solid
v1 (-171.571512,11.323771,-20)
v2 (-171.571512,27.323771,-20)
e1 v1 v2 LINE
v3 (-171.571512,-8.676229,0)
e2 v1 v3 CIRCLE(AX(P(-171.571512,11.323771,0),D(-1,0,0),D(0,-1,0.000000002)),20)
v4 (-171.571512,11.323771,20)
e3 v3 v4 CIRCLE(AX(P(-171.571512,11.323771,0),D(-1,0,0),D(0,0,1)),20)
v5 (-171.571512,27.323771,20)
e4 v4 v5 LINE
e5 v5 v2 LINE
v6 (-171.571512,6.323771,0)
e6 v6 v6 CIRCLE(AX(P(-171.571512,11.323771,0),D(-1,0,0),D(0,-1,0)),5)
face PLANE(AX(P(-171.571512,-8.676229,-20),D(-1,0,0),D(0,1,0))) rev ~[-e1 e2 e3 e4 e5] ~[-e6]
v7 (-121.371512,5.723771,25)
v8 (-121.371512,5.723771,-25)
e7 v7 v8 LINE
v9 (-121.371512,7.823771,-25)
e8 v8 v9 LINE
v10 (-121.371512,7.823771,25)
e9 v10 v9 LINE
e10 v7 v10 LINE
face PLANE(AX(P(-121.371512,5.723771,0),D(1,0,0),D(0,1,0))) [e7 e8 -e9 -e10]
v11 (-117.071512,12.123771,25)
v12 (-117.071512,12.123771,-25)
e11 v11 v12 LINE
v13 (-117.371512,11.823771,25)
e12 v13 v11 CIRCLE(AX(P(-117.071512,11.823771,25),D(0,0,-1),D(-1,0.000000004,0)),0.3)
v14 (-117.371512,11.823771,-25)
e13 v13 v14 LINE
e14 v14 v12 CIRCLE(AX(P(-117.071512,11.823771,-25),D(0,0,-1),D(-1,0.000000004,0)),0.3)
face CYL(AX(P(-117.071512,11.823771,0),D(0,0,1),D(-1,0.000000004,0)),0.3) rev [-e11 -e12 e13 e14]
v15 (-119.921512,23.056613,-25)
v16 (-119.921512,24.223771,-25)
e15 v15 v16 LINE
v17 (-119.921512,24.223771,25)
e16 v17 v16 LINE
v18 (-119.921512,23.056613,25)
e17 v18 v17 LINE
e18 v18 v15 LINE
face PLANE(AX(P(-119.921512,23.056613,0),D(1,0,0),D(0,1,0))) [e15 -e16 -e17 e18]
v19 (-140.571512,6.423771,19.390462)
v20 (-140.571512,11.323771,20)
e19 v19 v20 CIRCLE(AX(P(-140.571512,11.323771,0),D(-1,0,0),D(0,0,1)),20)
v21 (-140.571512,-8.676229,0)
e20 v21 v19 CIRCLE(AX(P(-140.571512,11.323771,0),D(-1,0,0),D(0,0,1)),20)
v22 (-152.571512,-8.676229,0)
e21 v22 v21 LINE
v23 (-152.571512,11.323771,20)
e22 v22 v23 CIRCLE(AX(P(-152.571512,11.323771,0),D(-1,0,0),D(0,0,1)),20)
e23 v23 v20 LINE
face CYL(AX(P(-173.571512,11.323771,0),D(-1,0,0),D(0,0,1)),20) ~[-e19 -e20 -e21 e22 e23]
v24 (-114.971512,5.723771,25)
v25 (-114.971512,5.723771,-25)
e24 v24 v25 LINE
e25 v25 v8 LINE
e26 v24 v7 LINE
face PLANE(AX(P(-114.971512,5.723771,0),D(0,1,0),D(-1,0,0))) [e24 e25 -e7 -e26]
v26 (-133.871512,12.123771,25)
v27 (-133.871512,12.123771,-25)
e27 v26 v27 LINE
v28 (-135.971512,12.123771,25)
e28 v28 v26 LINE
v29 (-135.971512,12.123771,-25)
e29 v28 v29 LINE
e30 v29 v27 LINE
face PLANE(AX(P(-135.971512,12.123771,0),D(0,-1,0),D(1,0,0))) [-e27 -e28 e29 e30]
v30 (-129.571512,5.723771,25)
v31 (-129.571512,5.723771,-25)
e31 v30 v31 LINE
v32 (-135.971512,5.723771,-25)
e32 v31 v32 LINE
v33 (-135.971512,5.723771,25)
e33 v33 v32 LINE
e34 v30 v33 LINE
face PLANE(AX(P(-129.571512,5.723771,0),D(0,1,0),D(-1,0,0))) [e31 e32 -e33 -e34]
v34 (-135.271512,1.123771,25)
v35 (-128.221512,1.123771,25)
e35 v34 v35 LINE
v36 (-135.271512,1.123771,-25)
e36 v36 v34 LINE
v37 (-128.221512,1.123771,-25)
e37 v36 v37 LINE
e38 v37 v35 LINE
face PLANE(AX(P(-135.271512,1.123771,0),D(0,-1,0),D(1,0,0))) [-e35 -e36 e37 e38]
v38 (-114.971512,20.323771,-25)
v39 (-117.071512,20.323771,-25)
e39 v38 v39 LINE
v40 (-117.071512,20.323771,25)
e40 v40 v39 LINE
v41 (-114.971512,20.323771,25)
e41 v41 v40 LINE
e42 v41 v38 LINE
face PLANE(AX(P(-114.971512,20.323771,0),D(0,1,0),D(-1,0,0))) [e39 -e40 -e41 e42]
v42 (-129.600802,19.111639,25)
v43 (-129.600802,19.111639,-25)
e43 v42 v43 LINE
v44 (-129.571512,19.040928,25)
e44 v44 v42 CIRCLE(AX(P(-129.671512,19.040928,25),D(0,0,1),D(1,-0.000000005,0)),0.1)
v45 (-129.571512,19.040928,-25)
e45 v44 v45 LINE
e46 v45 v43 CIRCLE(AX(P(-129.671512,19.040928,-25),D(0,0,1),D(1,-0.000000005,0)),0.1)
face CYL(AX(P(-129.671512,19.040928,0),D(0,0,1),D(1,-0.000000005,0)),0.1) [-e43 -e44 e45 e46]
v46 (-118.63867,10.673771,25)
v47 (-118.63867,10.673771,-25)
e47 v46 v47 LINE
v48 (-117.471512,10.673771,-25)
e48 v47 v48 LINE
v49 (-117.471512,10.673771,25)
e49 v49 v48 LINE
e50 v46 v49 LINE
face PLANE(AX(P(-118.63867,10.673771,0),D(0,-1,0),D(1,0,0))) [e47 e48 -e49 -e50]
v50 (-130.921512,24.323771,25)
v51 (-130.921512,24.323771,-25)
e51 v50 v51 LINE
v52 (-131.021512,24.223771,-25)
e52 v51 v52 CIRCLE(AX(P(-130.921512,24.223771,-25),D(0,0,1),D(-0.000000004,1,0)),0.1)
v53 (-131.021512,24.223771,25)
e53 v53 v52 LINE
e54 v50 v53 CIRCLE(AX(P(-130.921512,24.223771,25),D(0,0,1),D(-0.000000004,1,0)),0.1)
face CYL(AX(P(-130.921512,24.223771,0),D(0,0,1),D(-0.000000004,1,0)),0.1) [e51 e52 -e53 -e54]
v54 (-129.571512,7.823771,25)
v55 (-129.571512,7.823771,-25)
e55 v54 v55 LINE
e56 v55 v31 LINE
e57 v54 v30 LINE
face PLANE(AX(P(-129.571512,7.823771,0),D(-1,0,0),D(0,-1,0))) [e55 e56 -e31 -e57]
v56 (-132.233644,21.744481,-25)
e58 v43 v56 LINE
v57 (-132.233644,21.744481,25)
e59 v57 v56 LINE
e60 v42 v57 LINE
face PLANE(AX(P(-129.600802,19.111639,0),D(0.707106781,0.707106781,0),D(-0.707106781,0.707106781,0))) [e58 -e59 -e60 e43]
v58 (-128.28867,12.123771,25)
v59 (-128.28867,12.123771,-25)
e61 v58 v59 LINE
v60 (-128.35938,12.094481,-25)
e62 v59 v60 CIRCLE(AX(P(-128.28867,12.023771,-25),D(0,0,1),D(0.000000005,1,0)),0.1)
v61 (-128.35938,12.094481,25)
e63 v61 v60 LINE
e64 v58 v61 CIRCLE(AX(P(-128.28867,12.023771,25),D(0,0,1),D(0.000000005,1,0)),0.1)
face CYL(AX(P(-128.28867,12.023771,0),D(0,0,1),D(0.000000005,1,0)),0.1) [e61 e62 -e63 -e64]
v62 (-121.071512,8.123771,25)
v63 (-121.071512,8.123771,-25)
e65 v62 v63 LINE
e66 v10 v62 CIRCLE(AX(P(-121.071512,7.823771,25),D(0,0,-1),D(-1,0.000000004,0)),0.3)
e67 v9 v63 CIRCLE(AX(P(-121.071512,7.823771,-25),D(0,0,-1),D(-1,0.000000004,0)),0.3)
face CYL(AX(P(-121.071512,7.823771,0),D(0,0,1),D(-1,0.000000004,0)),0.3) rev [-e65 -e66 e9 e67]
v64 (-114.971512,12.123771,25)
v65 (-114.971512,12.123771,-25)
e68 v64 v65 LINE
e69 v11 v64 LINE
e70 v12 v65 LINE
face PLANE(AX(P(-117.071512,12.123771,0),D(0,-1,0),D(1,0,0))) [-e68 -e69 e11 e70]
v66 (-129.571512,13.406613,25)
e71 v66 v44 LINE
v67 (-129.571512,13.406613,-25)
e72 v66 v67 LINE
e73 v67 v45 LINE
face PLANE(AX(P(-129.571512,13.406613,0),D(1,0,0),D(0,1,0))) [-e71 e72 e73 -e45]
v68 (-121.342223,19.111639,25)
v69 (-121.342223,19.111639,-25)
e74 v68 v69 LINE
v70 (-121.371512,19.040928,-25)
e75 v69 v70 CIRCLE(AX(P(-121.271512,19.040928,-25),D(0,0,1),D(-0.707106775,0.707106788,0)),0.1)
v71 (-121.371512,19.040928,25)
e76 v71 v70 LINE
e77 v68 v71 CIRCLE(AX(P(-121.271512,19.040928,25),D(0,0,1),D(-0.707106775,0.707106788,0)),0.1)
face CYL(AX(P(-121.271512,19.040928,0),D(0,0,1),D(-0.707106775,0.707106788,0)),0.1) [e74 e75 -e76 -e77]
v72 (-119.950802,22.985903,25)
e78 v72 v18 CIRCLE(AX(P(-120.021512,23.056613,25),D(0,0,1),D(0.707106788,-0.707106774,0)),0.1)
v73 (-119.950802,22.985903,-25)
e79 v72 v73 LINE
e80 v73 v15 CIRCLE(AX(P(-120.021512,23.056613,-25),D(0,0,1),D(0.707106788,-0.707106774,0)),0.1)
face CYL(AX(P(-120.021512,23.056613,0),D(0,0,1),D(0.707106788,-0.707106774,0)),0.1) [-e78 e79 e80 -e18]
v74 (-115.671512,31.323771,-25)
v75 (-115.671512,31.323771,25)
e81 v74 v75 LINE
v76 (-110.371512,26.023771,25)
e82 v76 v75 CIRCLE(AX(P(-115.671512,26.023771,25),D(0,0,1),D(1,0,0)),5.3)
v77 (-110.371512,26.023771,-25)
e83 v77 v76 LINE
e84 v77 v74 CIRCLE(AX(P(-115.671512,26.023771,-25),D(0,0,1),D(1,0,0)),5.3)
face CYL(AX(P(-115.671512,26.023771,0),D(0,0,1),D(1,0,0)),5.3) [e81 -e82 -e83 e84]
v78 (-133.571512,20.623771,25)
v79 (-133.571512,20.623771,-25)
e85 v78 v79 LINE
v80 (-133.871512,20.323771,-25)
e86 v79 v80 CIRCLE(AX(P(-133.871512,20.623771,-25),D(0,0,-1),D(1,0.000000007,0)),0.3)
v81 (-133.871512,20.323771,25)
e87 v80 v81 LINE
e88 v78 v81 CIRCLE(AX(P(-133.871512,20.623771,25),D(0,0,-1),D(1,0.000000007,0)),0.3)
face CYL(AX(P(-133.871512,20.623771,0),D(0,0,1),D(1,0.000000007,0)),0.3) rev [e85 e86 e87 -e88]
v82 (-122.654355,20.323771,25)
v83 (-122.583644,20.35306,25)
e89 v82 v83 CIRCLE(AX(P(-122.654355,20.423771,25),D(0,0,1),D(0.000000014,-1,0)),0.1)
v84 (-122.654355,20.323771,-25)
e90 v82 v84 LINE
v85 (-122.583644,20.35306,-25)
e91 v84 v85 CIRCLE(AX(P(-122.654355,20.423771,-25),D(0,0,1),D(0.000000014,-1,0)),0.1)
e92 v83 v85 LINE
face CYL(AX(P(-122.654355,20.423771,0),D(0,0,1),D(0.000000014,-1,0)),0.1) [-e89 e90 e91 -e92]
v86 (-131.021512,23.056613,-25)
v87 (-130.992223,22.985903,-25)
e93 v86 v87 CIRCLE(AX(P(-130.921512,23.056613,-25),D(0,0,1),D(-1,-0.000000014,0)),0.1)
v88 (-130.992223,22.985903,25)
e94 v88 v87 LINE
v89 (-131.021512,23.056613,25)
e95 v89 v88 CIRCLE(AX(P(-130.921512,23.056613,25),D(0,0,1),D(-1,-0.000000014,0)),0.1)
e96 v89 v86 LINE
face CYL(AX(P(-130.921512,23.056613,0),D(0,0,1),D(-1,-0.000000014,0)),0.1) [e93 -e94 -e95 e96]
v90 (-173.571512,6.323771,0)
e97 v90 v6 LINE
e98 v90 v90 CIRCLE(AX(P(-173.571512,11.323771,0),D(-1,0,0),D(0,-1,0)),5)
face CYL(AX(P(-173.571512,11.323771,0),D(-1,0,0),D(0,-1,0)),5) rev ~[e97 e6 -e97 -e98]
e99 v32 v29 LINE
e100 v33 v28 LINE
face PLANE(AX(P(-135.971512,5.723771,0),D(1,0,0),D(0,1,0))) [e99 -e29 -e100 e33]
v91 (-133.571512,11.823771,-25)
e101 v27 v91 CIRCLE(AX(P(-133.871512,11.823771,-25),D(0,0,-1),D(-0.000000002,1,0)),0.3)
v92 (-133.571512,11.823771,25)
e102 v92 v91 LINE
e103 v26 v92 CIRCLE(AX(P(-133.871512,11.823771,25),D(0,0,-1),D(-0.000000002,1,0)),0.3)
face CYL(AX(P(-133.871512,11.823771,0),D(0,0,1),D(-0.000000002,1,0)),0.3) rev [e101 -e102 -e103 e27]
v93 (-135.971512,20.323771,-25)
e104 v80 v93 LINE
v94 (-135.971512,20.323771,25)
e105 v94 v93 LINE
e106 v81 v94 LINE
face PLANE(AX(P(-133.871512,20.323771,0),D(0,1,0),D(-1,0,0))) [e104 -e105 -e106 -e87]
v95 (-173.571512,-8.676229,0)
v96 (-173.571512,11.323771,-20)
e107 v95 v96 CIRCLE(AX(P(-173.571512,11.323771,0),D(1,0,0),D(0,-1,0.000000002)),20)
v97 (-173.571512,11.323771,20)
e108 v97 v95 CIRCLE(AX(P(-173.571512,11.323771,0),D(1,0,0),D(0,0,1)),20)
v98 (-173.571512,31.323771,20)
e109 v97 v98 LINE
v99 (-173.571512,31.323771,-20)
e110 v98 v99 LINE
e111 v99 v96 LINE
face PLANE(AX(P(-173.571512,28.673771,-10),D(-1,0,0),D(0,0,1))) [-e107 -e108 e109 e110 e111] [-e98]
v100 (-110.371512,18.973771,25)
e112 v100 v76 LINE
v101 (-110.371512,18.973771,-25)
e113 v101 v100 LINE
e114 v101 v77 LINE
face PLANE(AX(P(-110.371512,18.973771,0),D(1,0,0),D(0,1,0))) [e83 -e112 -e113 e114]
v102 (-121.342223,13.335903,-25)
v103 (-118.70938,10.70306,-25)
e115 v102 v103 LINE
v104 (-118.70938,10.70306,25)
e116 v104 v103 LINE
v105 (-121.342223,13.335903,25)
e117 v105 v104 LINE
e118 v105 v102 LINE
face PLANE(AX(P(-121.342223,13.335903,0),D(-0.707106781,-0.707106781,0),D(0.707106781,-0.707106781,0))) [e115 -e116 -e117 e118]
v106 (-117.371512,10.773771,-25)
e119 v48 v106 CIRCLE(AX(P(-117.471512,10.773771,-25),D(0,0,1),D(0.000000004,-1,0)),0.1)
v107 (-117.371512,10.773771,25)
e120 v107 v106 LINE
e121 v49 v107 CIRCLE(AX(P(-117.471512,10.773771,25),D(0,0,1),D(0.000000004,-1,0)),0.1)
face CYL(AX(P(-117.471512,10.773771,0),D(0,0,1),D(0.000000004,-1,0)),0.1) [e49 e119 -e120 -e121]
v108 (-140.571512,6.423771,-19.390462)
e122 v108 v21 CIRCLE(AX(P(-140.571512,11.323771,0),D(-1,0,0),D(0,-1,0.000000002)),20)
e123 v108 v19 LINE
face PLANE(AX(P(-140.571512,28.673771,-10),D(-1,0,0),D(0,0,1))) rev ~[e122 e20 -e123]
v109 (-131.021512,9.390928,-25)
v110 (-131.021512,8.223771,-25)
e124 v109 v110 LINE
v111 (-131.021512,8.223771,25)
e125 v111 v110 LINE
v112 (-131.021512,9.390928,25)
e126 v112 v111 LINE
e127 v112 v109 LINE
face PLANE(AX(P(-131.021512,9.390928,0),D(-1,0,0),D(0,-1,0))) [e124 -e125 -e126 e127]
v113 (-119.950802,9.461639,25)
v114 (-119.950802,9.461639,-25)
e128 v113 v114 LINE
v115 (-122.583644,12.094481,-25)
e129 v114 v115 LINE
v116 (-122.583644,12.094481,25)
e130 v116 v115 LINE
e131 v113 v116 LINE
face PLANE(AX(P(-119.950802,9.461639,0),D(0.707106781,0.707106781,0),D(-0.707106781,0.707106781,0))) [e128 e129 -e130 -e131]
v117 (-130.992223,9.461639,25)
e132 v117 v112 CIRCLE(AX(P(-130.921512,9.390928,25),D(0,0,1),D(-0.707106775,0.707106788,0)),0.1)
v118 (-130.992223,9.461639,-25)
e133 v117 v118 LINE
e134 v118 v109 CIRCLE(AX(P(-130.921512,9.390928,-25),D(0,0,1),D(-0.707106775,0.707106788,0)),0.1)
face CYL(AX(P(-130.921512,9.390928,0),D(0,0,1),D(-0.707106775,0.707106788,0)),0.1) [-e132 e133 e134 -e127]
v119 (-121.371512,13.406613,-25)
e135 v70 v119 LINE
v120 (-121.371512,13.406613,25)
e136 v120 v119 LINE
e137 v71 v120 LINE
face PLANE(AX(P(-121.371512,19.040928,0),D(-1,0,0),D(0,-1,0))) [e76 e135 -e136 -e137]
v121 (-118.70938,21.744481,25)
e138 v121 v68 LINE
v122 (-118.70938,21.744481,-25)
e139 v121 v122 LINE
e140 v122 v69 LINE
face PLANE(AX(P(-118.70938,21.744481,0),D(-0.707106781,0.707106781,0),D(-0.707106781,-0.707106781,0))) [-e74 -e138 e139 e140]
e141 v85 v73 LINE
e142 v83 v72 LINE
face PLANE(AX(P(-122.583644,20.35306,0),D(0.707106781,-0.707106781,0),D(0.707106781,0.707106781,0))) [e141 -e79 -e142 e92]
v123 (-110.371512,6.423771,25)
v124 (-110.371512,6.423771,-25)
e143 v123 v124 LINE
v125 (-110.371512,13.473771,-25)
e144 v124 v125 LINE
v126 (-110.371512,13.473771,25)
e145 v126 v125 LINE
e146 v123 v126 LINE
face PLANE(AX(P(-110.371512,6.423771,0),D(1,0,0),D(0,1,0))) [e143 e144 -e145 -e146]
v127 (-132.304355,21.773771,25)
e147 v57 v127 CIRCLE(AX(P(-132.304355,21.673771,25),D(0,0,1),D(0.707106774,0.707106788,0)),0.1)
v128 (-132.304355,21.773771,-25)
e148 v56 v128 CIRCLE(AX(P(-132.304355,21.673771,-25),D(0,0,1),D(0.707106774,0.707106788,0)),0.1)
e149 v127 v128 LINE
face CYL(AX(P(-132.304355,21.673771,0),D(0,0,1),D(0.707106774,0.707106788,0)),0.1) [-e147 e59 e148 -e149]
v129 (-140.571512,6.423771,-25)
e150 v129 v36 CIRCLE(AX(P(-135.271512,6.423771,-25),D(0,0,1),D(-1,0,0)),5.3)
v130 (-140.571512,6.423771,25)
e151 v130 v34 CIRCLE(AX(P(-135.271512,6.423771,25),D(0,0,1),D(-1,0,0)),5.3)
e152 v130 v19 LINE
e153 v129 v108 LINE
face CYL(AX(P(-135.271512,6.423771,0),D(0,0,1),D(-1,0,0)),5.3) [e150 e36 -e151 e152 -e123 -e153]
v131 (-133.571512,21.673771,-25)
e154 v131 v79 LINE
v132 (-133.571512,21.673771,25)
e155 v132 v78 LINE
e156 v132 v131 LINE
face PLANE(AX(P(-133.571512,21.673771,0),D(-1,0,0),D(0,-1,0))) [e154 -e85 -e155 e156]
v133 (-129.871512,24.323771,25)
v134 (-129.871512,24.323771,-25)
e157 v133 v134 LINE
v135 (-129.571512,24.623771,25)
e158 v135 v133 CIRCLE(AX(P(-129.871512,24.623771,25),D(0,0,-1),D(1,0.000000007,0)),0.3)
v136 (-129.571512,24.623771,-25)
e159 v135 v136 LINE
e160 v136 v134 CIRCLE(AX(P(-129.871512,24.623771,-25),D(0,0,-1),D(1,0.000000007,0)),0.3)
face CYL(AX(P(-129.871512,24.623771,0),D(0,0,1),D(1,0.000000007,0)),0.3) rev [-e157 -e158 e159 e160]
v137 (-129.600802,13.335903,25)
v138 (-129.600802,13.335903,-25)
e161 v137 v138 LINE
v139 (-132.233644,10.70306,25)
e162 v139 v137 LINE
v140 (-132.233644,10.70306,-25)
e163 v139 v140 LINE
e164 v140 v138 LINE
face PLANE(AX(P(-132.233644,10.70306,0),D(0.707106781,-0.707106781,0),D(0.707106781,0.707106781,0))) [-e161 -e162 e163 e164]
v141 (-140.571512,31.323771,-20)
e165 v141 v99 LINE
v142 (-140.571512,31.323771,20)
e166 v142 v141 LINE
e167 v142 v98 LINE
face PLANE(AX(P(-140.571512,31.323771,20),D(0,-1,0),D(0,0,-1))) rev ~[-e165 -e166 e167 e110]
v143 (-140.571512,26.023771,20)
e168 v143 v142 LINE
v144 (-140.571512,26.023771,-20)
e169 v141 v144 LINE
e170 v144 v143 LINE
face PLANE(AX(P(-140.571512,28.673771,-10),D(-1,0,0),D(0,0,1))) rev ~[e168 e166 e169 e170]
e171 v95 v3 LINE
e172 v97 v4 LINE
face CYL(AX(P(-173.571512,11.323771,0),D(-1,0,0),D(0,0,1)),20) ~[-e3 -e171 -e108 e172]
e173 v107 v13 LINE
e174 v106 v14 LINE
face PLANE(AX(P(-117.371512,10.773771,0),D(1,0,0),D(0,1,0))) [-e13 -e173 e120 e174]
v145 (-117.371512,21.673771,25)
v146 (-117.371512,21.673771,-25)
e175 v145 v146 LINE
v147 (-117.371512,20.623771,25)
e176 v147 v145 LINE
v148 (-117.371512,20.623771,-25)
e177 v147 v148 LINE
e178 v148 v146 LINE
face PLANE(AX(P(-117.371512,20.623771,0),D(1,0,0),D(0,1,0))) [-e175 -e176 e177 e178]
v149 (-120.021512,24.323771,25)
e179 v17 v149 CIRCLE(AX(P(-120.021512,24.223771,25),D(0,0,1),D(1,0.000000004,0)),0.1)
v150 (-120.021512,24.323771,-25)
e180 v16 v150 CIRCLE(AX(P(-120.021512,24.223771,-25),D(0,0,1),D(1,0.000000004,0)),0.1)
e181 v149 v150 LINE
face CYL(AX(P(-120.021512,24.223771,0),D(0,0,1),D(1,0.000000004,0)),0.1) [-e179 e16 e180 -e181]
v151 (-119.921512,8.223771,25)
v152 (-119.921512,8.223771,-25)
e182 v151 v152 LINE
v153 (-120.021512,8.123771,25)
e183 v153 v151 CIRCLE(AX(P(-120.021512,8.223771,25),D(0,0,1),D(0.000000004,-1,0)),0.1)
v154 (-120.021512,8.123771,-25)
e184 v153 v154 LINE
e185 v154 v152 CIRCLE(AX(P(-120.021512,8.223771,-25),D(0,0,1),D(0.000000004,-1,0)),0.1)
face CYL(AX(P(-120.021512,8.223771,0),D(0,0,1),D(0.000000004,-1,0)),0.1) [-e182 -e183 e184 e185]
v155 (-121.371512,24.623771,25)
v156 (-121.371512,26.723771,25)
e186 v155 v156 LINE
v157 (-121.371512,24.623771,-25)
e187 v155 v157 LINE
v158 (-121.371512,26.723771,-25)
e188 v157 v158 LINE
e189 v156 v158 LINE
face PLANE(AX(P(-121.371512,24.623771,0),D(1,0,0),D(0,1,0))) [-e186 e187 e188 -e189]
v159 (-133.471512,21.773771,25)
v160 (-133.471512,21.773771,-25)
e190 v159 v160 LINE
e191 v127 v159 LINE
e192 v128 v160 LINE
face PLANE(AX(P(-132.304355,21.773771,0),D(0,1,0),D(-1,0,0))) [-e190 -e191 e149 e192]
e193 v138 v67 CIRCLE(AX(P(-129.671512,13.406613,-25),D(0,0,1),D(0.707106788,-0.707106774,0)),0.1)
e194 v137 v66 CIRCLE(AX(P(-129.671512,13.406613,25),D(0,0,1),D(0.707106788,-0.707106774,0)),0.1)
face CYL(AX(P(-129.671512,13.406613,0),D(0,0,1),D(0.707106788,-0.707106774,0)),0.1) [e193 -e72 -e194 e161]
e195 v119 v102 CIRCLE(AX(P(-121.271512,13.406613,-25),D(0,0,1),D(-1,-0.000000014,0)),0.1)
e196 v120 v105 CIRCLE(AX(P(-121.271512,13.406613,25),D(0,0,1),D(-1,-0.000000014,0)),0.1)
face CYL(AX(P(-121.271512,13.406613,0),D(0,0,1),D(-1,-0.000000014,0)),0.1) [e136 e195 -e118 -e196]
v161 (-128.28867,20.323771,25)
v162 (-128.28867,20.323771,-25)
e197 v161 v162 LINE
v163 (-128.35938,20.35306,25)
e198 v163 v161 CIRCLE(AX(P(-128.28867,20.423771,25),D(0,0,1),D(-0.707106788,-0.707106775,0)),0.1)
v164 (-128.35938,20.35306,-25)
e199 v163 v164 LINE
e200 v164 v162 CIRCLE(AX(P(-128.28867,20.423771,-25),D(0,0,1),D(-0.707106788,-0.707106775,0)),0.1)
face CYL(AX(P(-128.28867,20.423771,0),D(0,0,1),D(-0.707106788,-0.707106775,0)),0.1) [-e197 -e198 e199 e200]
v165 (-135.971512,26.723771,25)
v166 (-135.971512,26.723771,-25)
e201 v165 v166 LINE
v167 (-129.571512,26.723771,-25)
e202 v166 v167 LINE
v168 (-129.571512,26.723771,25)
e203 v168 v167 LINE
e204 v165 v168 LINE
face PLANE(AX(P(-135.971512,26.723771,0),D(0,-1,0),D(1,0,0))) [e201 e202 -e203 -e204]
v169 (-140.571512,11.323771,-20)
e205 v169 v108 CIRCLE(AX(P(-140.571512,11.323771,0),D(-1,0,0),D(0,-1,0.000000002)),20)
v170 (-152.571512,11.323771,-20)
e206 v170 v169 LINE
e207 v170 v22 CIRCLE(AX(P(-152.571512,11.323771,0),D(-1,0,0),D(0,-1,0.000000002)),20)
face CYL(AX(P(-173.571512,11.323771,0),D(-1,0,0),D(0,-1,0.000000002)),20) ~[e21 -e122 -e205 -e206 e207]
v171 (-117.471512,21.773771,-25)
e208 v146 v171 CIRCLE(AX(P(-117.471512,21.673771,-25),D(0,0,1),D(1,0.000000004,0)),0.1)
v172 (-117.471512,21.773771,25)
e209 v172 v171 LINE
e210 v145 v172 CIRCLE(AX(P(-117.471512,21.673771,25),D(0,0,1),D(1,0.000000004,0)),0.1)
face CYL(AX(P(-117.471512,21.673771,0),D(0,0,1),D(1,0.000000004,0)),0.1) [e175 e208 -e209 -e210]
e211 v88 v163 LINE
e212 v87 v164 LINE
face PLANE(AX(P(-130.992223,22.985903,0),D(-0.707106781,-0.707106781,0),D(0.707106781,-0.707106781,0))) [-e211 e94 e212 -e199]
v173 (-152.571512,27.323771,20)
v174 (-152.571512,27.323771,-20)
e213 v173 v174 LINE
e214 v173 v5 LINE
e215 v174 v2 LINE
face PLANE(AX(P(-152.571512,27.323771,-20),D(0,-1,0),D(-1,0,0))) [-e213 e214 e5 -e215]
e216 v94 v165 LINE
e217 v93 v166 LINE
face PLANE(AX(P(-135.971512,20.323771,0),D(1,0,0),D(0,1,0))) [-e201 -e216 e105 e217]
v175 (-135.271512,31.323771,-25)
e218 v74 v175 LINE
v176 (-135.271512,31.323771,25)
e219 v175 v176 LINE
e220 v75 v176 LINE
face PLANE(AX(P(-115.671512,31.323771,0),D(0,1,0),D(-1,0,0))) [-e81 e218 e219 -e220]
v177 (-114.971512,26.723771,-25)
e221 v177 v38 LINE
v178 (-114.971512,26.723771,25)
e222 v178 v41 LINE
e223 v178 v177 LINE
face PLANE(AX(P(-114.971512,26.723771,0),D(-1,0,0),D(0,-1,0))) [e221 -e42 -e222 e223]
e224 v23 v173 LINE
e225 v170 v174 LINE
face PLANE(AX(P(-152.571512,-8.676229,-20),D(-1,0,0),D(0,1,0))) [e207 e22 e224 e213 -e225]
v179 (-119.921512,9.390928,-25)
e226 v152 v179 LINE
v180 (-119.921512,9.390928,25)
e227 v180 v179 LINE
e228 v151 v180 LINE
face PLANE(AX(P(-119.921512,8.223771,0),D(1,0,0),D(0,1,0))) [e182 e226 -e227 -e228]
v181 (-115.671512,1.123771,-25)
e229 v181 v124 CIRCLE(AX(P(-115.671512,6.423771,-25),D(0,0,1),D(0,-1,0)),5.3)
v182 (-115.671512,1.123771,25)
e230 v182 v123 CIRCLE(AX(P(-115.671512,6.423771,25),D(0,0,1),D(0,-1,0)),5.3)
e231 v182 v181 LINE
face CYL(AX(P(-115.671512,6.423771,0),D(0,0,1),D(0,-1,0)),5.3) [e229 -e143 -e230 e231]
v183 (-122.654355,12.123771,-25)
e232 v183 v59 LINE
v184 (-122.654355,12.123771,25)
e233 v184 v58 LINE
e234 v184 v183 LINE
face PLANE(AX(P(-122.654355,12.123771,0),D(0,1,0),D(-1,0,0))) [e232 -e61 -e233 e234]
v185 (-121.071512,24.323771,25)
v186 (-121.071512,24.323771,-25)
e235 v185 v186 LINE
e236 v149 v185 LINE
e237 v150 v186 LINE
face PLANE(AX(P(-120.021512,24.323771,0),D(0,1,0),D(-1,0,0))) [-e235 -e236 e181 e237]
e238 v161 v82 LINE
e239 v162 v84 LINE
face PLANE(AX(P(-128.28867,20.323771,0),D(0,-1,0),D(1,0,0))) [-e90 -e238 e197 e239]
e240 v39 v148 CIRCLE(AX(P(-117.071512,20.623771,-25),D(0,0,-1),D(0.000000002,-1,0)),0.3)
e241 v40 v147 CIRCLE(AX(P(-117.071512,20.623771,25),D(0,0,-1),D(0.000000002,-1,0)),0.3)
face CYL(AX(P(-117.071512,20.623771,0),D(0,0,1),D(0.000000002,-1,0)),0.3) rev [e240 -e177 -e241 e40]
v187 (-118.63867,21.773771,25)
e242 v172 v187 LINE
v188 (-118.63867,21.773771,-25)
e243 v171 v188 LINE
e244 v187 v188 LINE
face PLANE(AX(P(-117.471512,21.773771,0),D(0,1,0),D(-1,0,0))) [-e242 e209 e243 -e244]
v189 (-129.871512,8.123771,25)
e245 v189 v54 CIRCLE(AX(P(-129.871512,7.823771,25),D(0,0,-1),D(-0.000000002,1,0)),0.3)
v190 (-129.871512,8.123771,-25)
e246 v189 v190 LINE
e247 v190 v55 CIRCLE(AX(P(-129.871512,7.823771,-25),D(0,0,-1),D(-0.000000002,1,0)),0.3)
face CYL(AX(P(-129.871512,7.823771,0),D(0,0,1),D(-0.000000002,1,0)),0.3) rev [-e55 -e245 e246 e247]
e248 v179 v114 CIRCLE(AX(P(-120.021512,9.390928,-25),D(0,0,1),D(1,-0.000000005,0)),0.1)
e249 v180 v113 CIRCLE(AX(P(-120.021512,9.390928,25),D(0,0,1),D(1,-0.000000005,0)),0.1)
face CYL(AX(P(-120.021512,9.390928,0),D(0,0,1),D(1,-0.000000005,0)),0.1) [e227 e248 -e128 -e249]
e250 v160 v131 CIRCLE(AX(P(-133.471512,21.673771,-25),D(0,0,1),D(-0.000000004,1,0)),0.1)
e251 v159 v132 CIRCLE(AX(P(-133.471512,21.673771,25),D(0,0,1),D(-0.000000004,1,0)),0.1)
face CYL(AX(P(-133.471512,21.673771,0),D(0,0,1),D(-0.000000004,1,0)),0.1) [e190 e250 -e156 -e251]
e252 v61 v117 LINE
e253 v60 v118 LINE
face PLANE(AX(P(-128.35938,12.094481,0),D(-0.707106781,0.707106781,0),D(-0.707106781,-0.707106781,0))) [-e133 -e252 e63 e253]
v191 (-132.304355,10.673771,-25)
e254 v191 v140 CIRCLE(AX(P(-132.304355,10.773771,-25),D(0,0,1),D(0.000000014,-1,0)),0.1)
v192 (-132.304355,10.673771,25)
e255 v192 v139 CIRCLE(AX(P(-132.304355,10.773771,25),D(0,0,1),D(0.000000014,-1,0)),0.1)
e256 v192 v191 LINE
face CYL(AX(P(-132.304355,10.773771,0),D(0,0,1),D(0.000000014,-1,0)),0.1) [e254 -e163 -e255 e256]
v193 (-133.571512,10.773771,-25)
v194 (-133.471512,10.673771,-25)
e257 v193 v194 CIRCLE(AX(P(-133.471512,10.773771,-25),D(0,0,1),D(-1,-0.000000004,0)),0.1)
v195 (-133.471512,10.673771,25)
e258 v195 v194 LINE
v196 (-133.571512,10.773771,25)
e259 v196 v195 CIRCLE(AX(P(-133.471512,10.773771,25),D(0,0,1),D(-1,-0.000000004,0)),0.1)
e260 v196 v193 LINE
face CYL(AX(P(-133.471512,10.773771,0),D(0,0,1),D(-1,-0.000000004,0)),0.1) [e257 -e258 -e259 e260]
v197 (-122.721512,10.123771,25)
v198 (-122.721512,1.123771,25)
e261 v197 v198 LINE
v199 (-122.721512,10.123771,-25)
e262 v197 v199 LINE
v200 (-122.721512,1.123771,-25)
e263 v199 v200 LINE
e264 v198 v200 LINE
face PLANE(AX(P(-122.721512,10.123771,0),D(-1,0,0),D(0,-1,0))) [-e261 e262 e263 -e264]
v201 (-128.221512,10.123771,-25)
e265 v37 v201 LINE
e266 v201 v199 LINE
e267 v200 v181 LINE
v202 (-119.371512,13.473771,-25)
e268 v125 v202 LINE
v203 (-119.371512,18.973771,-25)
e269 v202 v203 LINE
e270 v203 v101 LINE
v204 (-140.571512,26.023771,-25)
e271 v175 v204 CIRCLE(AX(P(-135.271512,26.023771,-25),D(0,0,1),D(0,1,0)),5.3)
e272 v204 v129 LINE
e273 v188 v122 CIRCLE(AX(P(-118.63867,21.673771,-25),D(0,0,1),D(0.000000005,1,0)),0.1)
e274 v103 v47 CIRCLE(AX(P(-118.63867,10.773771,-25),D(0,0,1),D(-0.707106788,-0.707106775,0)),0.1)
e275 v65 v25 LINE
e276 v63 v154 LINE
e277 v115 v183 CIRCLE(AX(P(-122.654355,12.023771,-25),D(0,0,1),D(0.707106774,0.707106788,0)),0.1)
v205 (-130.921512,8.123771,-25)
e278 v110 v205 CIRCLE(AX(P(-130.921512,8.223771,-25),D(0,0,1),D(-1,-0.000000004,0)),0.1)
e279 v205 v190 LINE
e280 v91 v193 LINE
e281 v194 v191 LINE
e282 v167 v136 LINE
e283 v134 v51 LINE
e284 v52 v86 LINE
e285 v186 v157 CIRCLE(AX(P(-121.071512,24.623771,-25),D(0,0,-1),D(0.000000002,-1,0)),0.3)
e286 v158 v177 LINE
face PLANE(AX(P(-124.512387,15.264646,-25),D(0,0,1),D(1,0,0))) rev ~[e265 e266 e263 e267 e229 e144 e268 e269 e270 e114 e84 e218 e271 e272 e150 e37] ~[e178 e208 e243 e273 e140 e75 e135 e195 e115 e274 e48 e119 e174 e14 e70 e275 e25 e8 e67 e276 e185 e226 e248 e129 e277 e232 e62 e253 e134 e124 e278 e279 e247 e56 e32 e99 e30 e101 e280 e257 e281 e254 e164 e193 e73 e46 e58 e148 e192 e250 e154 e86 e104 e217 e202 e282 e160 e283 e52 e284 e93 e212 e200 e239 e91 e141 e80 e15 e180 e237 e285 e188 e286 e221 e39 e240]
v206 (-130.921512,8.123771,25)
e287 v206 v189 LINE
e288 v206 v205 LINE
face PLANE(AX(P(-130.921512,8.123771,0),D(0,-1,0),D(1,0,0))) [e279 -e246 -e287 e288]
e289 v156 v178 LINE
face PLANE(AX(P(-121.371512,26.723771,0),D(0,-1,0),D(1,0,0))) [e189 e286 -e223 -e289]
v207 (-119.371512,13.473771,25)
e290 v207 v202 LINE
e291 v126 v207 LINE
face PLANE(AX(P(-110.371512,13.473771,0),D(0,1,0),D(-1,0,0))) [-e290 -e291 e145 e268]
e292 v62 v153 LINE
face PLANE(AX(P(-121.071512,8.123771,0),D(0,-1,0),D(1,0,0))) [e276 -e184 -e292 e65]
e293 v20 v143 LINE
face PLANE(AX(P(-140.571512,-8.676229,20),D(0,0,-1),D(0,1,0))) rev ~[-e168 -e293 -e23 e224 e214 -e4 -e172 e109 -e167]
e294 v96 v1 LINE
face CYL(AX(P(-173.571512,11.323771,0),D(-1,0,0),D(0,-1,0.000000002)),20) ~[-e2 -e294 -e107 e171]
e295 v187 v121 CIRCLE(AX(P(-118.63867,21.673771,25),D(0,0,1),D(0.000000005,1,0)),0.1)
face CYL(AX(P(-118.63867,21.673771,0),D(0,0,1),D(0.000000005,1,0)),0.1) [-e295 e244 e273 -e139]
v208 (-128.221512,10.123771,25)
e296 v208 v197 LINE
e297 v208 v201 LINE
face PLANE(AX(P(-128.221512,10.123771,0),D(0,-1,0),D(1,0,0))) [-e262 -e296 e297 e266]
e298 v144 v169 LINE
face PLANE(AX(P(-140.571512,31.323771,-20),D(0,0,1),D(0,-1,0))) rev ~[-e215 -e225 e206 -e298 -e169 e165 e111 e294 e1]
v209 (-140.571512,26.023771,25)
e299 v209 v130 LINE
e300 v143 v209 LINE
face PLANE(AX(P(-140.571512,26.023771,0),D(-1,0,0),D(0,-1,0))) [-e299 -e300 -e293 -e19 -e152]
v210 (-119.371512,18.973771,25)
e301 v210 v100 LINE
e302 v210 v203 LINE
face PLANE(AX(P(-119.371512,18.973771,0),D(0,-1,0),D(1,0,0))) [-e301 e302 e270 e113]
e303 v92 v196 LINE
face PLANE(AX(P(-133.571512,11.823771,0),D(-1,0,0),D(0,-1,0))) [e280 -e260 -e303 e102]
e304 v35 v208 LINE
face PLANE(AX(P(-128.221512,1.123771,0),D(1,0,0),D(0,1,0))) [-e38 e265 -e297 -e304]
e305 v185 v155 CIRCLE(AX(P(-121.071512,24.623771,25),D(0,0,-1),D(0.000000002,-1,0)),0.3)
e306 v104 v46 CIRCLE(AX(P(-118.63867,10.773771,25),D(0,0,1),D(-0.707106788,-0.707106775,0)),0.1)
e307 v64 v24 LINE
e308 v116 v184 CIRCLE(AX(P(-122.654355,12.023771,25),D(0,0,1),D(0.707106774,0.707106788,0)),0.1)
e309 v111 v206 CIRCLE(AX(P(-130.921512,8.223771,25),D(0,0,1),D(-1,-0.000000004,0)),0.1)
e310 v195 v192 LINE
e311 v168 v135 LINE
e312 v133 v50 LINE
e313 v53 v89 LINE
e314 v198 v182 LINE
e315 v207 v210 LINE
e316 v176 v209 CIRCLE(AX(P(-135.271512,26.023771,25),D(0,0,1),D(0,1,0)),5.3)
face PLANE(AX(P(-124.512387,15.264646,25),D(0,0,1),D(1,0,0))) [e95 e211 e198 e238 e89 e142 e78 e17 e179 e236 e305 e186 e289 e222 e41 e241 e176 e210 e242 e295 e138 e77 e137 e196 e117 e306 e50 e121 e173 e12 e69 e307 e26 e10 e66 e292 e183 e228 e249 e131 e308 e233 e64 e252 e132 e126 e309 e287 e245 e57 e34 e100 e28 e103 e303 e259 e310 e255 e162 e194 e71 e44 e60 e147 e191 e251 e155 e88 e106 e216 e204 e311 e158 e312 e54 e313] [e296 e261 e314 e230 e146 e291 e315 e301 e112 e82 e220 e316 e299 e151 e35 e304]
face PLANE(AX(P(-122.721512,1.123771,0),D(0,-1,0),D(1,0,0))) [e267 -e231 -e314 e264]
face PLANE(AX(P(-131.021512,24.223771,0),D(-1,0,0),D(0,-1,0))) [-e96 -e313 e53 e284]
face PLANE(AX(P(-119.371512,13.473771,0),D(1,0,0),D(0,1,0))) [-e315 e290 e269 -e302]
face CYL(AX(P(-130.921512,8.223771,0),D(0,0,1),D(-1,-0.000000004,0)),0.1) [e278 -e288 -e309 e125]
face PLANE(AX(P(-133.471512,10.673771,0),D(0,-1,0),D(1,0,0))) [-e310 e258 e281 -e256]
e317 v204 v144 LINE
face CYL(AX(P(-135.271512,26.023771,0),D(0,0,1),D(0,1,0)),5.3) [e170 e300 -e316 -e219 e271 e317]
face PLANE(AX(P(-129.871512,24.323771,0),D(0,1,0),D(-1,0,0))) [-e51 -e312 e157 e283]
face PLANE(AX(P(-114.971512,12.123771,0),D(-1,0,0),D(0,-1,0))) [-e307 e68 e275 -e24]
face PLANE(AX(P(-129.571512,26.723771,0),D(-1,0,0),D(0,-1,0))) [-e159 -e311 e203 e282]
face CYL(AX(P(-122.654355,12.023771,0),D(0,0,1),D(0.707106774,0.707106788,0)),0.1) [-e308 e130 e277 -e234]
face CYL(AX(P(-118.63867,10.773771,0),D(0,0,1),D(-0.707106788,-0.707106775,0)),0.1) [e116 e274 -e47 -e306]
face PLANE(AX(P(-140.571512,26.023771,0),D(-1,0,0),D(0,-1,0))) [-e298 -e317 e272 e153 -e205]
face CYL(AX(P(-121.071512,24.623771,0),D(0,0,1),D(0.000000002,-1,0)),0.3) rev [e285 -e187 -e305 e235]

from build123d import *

# Parameters (mm, degrees)
Y_KSEKLIK_EKSTR_ZYON3_DEPTH       = 25
IZIM8_W                           = 20
IZIM8_H                           = 5.3
IZIM8_H_2                         = 14.7
IZIM8_H_3                         = 15.1
IZIM8_H_4                         = 4.9
Y_KSEKLIK_EKSTR_ZYON4_DEPTH       = 33
IZIM9_W                           = 19
IZIM9_H                           = 36
KES_EKSTR_ZYON1_DEPTH             = 36
IZIM11_R                          = 5
KES_EKSTR_ZYON3_DEPTH             = 10
IZIM12_W                          = 19
IZIM12_H                          = 36
KES_EKSTR_ZYON4_DEPTH             = 93
KES_EKSTR_ZYON5_REACH             = 76.836
KES_EKSTR_ZYON5_DIRECTION_2_DEPTH = 2


with BuildPart() as part:
    # Çizim6 → Yükseklik-Ekstrüzyon3 (new, symmetric)
    with BuildSketch(Plane.XY):
        with BuildLine():
            Line((-119.371512251, 18.973770729), (-115.371512251, 18.973770729))
            Line((-115.371512251, 18.973770729), (-110.371512251, 18.973770729))
            Line((-110.371512251, 18.973770729), (-110.371512251, 20.773770729))
            Line((-110.371512251, 20.773770729), (-110.371512251, 26.023770729))
            ThreePointArc((-110.371512251, 26.023770729), (-111.92384631, 29.771436669), (-115.671512251, 31.323770729))
            Line((-115.671512251, 31.323770729), (-120.921512251, 31.323770729))
            Line((-120.921512251, 31.323770729), (-122.721512251, 31.323770729))
            Line((-122.721512251, 31.323770729), (-128.221512251, 31.323770729))
            Line((-128.221512251, 31.323770729), (-130.021512251, 31.323770729))
            Line((-130.021512251, 31.323770729), (-135.271512251, 31.323770729))
            ThreePointArc((-135.271512251, 31.323770729), (-139.019178191, 29.771436669), (-140.571512251, 26.023770729))
            Line((-140.571512251, 26.023770729), (-140.571512251, 20.773770729))
            Line((-140.571512251, 20.773770729), (-140.571512251, 16.223770729))
            Line((-140.571512251, 16.223770729), (-140.571512251, 11.673770729))
            Line((-140.571512251, 11.673770729), (-140.571512251, 6.423770729))
            ThreePointArc((-140.571512251, 6.423770729), (-139.019178191, 2.676104789), (-135.271512251, 1.123770729))
            Line((-135.271512251, 1.123770729), (-130.021512251, 1.123770729))
            Line((-130.021512251, 1.123770729), (-128.221512251, 1.123770729))
            Line((-128.221512251, 1.123770729), (-128.221512251, 6.123770729))
            Line((-128.221512251, 6.123770729), (-128.221512251, 10.123770729))
            Line((-128.221512251, 10.123770729), (-122.721512251, 10.123770729))
            Line((-122.721512251, 10.123770729), (-122.721512251, 6.123770729))
            Line((-122.721512251, 6.123770729), (-122.721512251, 1.123770729))
            Line((-122.721512251, 1.123770729), (-120.921512251, 1.123770729))
            Line((-120.921512251, 1.123770729), (-115.671512251, 1.123770729))
            ThreePointArc((-115.671512251, 1.123770729), (-111.92384631, 2.676104789), (-110.371512251, 6.423770729))
            Line((-110.371512251, 6.423770729), (-110.371512251, 11.673770729))
            Line((-110.371512251, 11.673770729), (-110.371512251, 13.473770729))
            Line((-110.371512251, 13.473770729), (-115.371512251, 13.473770729))
            Line((-115.371512251, 13.473770729), (-119.371512251, 13.473770729))
            Line((-119.371512251, 13.473770729), (-119.371512251, 18.973770729))
        make_face()
        with BuildLine():
            Line((-133.871512251, 20.323770729), (-135.071512251, 20.323770729))
            Line((-135.071512251, 20.323770729), (-135.871512251, 20.323770729))
            Line((-135.871512251, 20.323770729), (-135.971512251, 20.323770729))
            Line((-135.971512251, 20.323770729), (-135.971512251, 26.723770729))
            Line((-135.971512251, 26.723770729), (-129.571512251, 26.723770729))
            Line((-129.571512251, 26.723770729), (-129.571512251, 26.623770729))
            Line((-129.571512251, 26.623770729), (-129.571512251, 25.823770729))
            Line((-129.571512251, 25.823770729), (-129.571512251, 24.623770729))
            ThreePointArc((-129.571512251, 24.623770729), (-129.659380216, 24.411638694), (-129.871512251, 24.323770729))
            Line((-129.871512251, 24.323770729), (-130.921512251, 24.323770729))
            ThreePointArc((-130.921512251, 24.323770729), (-130.992222929, 24.294481407), (-131.021512251, 24.223770729))
            Line((-131.021512251, 24.223770729), (-131.021512251, 23.056613441))
            ThreePointArc((-131.021512251, 23.056613441), (-131.013900204, 23.018345098), (-130.992222929, 22.985902763))
            Line((-130.992222929, 22.985902763), (-128.359380216, 20.353060051))
            ThreePointArc((-128.359380216, 20.353060051), (-128.326937882, 20.331382776), (-128.288669538, 20.323770729))
            Line((-128.288669538, 20.323770729), (-122.654354963, 20.323770729))
            ThreePointArc((-122.654354963, 20.323770729), (-122.61608662, 20.331382776), (-122.583644285, 20.353060051))
            Line((-122.583644285, 20.353060051), (-119.950801573, 22.985902763))
            ThreePointArc((-119.950801573, 22.985902763), (-119.929124298, 23.018345098), (-119.921512251, 23.056613441))
            Line((-119.921512251, 23.056613441), (-119.921512251, 24.223770729))
            ThreePointArc((-119.921512251, 24.223770729), (-119.950801573, 24.294481407), (-120.021512251, 24.323770729))
            Line((-120.021512251, 24.323770729), (-121.071512251, 24.323770729))
            ThreePointArc((-121.071512251, 24.323770729), (-121.283644285, 24.411638694), (-121.371512251, 24.623770729))
            Line((-121.371512251, 24.623770729), (-121.371512251, 25.823770729))
            Line((-121.371512251, 25.823770729), (-121.371512251, 26.323770729))
            Line((-121.371512251, 26.323770729), (-121.371512251, 26.723770729))
            Line((-121.371512251, 26.723770729), (-114.971512251, 26.723770729))
            Line((-114.971512251, 26.723770729), (-114.971512251, 20.323770729))
            Line((-114.971512251, 20.323770729), (-115.371512251, 20.323770729))
            Line((-115.371512251, 20.323770729), (-115.871512251, 20.323770729))
            Line((-115.871512251, 20.323770729), (-117.071512251, 20.323770729))
            ThreePointArc((-117.071512251, 20.323770729), (-117.283644285, 20.411638694), (-117.371512251, 20.623770729))
            Line((-117.371512251, 20.623770729), (-117.371512251, 21.673770729))
            ThreePointArc((-117.371512251, 21.673770729), (-117.400801573, 21.744481407), (-117.471512251, 21.773770729))
            Line((-117.471512251, 21.773770729), (-118.638669538, 21.773770729))
            ThreePointArc((-118.638669538, 21.773770729), (-118.676937882, 21.766158682), (-118.709380216, 21.744481407))
            Line((-118.709380216, 21.744481407), (-121.342222929, 19.111638694))
            ThreePointArc((-121.342222929, 19.111638694), (-121.363900204, 19.07919636), (-121.371512251, 19.040928016))
            Line((-121.371512251, 19.040928016), (-121.371512251, 13.406613441))
            ThreePointArc((-121.371512251, 13.406613441), (-121.363900204, 13.368345098), (-121.342222929, 13.335902763))
            Line((-121.342222929, 13.335902763), (-118.709380216, 10.703060051))
            ThreePointArc((-118.709380216, 10.703060051), (-118.676937882, 10.681382776), (-118.638669538, 10.673770729))
            Line((-118.638669538, 10.673770729), (-117.471512251, 10.673770729))
            ThreePointArc((-117.471512251, 10.673770729), (-117.400801573, 10.703060051), (-117.371512251, 10.773770729))
            Line((-117.371512251, 10.773770729), (-117.371512251, 11.823770729))
            ThreePointArc((-117.371512251, 11.823770729), (-117.283644285, 12.035902763), (-117.071512251, 12.123770729))
            Line((-117.071512251, 12.123770729), (-115.871512251, 12.123770729))
            Line((-115.871512251, 12.123770729), (-115.371512251, 12.123770729))
            Line((-115.371512251, 12.123770729), (-114.971512251, 12.123770729))
            Line((-114.971512251, 12.123770729), (-114.971512251, 5.723770729))
            Line((-114.971512251, 5.723770729), (-121.371512251, 5.723770729))
            Line((-121.371512251, 5.723770729), (-121.371512251, 6.123770729))
            Line((-121.371512251, 6.123770729), (-121.371512251, 6.623770729))
            Line((-121.371512251, 6.623770729), (-121.371512251, 7.823770729))
            ThreePointArc((-121.371512251, 7.823770729), (-121.283644285, 8.035902763), (-121.071512251, 8.123770729))
            Line((-121.071512251, 8.123770729), (-120.021512251, 8.123770729))
            ThreePointArc((-120.021512251, 8.123770729), (-119.950801573, 8.153060051), (-119.921512251, 8.223770729))
            Line((-119.921512251, 8.223770729), (-119.921512251, 9.390928016))
            ThreePointArc((-119.921512251, 9.390928016), (-119.929124298, 9.42919636), (-119.950801573, 9.461638694))
            Line((-119.950801573, 9.461638694), (-122.583644285, 12.094481407))
            ThreePointArc((-122.583644285, 12.094481407), (-122.61608662, 12.116158682), (-122.654354963, 12.123770729))
            Line((-122.654354963, 12.123770729), (-128.288669538, 12.123770729))
            ThreePointArc((-128.288669538, 12.123770729), (-128.326937882, 12.116158682), (-128.359380216, 12.094481407))
            Line((-128.359380216, 12.094481407), (-130.992222929, 9.461638694))
            ThreePointArc((-130.992222929, 9.461638694), (-131.013900204, 9.42919636), (-131.021512251, 9.390928016))
            Line((-131.021512251, 9.390928016), (-131.021512251, 8.223770729))
            ThreePointArc((-131.021512251, 8.223770729), (-130.992222929, 8.153060051), (-130.921512251, 8.123770729))
            Line((-130.921512251, 8.123770729), (-129.871512251, 8.123770729))
            ThreePointArc((-129.871512251, 8.123770729), (-129.659380216, 8.035902763), (-129.571512251, 7.823770729))
            Line((-129.571512251, 7.823770729), (-129.571512251, 6.623770729))
            Line((-129.571512251, 6.623770729), (-129.571512251, 6.123770729))
            Line((-129.571512251, 6.123770729), (-129.571512251, 5.723770729))
            Line((-129.571512251, 5.723770729), (-135.971512251, 5.723770729))
            Line((-135.971512251, 5.723770729), (-135.971512251, 12.123770729))
            Line((-135.971512251, 12.123770729), (-135.571512251, 12.123770729))
            Line((-135.571512251, 12.123770729), (-135.071512251, 12.123770729))
            Line((-135.071512251, 12.123770729), (-133.871512251, 12.123770729))
            ThreePointArc((-133.871512251, 12.123770729), (-133.659380216, 12.035902763), (-133.571512251, 11.823770729))
            Line((-133.571512251, 11.823770729), (-133.571512251, 10.773770729))
            ThreePointArc((-133.571512251, 10.773770729), (-133.542222929, 10.703060051), (-133.471512251, 10.673770729))
            Line((-133.471512251, 10.673770729), (-132.304354963, 10.673770729))
            ThreePointArc((-132.304354963, 10.673770729), (-132.26608662, 10.681382776), (-132.233644285, 10.703060051))
            Line((-132.233644285, 10.703060051), (-129.600801573, 13.335902763))
            ThreePointArc((-129.600801573, 13.335902763), (-129.579124298, 13.368345098), (-129.571512251, 13.406613441))
            Line((-129.571512251, 13.406613441), (-129.571512251, 19.040928016))
            ThreePointArc((-129.571512251, 19.040928016), (-129.579124298, 19.07919636), (-129.600801573, 19.111638694))
            Line((-129.600801573, 19.111638694), (-132.233644285, 21.744481407))
            ThreePointArc((-132.233644285, 21.744481407), (-132.26608662, 21.766158682), (-132.304354963, 21.773770729))
            Line((-132.304354963, 21.773770729), (-133.471512251, 21.773770729))
            ThreePointArc((-133.471512251, 21.773770729), (-133.542222929, 21.744481407), (-133.571512251, 21.673770729))
            Line((-133.571512251, 21.673770729), (-133.571512251, 20.623770729))
            ThreePointArc((-133.571512251, 20.623770729), (-133.659380216, 20.411638694), (-133.871512251, 20.323770729))
        make_face(mode=Mode.SUBTRACT)
    extrude(amount=Y_KSEKLIK_EKSTR_ZYON3_DEPTH, both=True)

    # Çizim8 → Yükseklik-Ekstrüzyon4 (add)
    with BuildSketch(Plane.ZY.offset(140.571512251)):
        with Locations((-10, 28.673770729)):
            Rectangle(IZIM8_W, IZIM8_H)
        with Locations((10, 28.673770729)):
            Rectangle(IZIM8_W, IZIM8_H)
        with Locations((10, 18.673770729)):
            Rectangle(IZIM8_W, IZIM8_H_2)
        with Locations((-10, 18.673770729)):
            Rectangle(IZIM8_W, IZIM8_H_2)
        with Locations((-10, -1.126229271)):
            Rectangle(IZIM8_W, IZIM8_H_3)
        with Locations((-10, 8.873770729)):
            Rectangle(IZIM8_W, IZIM8_H_4)
        with Locations((10, 8.873770729)):
            Rectangle(IZIM8_W, IZIM8_H_4)
        with Locations((10, -1.126229271)):
            Rectangle(IZIM8_W, IZIM8_H_3)
    extrude(amount=Y_KSEKLIK_EKSTR_ZYON4_DEPTH)

    # Çizim9 → Kes-Ekstrüzyon1 (cut)
    with BuildSketch(Plane.XZ.offset(8.676229271)):
        with Locations((-162.071512251, 0)):
            Rectangle(IZIM9_W, IZIM9_H)
    extrude(amount=-KES_EKSTR_ZYON1_DEPTH, mode=Mode.SUBTRACT)

    # Çizim11 → Kes-Ekstrüzyon3 (cut)
    with BuildSketch(Plane.ZY.offset(173.571512251)):
        with Locations(Location((0, 11.323770729, 0), (0, 0, 270))):
            Circle(IZIM11_R)
    extrude(amount=-KES_EKSTR_ZYON3_DEPTH, mode=Mode.SUBTRACT)

    # Çizim12 → Kes-Ekstrüzyon4 (cut)
    with BuildSketch(Plane(origin=(0, 0, -20), x_dir=(-1, 0, 0), z_dir=(0, 0, -1))):
        with Locations((162.071512251, 9.323770729)):
            Rectangle(IZIM12_W, IZIM12_H)
    extrude(amount=-KES_EKSTR_ZYON4_DEPTH, mode=Mode.SUBTRACT)

    # Kes-Ekstrüzyon5: up to this face of the body (flat: up to its plane)
    kes_ekstr_zyon5_end = Plane(part.part.faces().sort_by_distance((-140.571512251, -1.126229271, 0))[0])
    # Çizim13 → Kes-Ekstrüzyon5 (cut, up to the picked face)
    with BuildSketch(Plane.ZY.offset(173.571512251), mode=Mode.PRIVATE) as kes_ekstr_zyon5_sk1:
        with BuildLine():
            Line((-20, 11.323770729), (-20, -8.676229271))
            Line((-20, -8.676229271), (3.8e-08, -8.676229271))
            ThreePointArc((3.8e-08, -8.676229271), (-14.14213561, -2.818364908), (-20, 11.323770729))
        make_face()
    kes_ekstr_zyon5_tool1 = split(extrude(kes_ekstr_zyon5_sk1.sketch, amount=-KES_EKSTR_ZYON5_REACH, mode=Mode.PRIVATE), bisect_by=kes_ekstr_zyon5_end, keep=Keep.BOTH, mode=Mode.PRIVATE)
    # Çizim13 → Kes-Ekstrüzyon5 (cut, up to the picked face)
    with BuildSketch(Plane.ZY.offset(173.571512251), mode=Mode.PRIVATE) as kes_ekstr_zyon5_sk2:
        with BuildLine():
            ThreePointArc((20, 11.323770729), (14.142135637, -2.818364882), (3.8e-08, -8.676229271))
            Line((3.8e-08, -8.676229271), (20, -8.676229271))
            Line((20, -8.676229271), (20, 11.323770729))
        make_face()
    kes_ekstr_zyon5_tool2 = split(extrude(kes_ekstr_zyon5_sk2.sketch, amount=-KES_EKSTR_ZYON5_REACH, mode=Mode.PRIVATE), bisect_by=kes_ekstr_zyon5_end, keep=Keep.BOTH, mode=Mode.PRIVATE)
    add(kes_ekstr_zyon5_tool1.solids().sort_by(Axis((-173.571512, -4.20887, -15.532641), (1, 0, 0)))[0], mode=Mode.SUBTRACT)
    add(kes_ekstr_zyon5_tool2.solids().sort_by(Axis((-173.571512, -4.20887, 15.532641), (1, 0, 0)))[0], mode=Mode.SUBTRACT)

    # Çizim13 → Kes-Ekstrüzyon5 direction 2 (cut)
    with BuildSketch(Plane.ZY.offset(173.571512251)):
        with BuildLine():
            Line((-20, 11.323770729), (-20, -8.676229271))
            Line((-20, -8.676229271), (3.8e-08, -8.676229271))
            ThreePointArc((3.8e-08, -8.676229271), (-14.14213561, -2.818364908), (-20, 11.323770729))
        make_face()
        with BuildLine():
            ThreePointArc((20, 11.323770729), (14.142135637, -2.818364882), (3.8e-08, -8.676229271))
            Line((3.8e-08, -8.676229271), (20, -8.676229271))
            Line((20, -8.676229271), (20, 11.323770729))
        make_face()
    extrude(amount=KES_EKSTR_ZYON5_DIRECTION_2_DEPTH, mode=Mode.SUBTRACT)


solid = part.part
